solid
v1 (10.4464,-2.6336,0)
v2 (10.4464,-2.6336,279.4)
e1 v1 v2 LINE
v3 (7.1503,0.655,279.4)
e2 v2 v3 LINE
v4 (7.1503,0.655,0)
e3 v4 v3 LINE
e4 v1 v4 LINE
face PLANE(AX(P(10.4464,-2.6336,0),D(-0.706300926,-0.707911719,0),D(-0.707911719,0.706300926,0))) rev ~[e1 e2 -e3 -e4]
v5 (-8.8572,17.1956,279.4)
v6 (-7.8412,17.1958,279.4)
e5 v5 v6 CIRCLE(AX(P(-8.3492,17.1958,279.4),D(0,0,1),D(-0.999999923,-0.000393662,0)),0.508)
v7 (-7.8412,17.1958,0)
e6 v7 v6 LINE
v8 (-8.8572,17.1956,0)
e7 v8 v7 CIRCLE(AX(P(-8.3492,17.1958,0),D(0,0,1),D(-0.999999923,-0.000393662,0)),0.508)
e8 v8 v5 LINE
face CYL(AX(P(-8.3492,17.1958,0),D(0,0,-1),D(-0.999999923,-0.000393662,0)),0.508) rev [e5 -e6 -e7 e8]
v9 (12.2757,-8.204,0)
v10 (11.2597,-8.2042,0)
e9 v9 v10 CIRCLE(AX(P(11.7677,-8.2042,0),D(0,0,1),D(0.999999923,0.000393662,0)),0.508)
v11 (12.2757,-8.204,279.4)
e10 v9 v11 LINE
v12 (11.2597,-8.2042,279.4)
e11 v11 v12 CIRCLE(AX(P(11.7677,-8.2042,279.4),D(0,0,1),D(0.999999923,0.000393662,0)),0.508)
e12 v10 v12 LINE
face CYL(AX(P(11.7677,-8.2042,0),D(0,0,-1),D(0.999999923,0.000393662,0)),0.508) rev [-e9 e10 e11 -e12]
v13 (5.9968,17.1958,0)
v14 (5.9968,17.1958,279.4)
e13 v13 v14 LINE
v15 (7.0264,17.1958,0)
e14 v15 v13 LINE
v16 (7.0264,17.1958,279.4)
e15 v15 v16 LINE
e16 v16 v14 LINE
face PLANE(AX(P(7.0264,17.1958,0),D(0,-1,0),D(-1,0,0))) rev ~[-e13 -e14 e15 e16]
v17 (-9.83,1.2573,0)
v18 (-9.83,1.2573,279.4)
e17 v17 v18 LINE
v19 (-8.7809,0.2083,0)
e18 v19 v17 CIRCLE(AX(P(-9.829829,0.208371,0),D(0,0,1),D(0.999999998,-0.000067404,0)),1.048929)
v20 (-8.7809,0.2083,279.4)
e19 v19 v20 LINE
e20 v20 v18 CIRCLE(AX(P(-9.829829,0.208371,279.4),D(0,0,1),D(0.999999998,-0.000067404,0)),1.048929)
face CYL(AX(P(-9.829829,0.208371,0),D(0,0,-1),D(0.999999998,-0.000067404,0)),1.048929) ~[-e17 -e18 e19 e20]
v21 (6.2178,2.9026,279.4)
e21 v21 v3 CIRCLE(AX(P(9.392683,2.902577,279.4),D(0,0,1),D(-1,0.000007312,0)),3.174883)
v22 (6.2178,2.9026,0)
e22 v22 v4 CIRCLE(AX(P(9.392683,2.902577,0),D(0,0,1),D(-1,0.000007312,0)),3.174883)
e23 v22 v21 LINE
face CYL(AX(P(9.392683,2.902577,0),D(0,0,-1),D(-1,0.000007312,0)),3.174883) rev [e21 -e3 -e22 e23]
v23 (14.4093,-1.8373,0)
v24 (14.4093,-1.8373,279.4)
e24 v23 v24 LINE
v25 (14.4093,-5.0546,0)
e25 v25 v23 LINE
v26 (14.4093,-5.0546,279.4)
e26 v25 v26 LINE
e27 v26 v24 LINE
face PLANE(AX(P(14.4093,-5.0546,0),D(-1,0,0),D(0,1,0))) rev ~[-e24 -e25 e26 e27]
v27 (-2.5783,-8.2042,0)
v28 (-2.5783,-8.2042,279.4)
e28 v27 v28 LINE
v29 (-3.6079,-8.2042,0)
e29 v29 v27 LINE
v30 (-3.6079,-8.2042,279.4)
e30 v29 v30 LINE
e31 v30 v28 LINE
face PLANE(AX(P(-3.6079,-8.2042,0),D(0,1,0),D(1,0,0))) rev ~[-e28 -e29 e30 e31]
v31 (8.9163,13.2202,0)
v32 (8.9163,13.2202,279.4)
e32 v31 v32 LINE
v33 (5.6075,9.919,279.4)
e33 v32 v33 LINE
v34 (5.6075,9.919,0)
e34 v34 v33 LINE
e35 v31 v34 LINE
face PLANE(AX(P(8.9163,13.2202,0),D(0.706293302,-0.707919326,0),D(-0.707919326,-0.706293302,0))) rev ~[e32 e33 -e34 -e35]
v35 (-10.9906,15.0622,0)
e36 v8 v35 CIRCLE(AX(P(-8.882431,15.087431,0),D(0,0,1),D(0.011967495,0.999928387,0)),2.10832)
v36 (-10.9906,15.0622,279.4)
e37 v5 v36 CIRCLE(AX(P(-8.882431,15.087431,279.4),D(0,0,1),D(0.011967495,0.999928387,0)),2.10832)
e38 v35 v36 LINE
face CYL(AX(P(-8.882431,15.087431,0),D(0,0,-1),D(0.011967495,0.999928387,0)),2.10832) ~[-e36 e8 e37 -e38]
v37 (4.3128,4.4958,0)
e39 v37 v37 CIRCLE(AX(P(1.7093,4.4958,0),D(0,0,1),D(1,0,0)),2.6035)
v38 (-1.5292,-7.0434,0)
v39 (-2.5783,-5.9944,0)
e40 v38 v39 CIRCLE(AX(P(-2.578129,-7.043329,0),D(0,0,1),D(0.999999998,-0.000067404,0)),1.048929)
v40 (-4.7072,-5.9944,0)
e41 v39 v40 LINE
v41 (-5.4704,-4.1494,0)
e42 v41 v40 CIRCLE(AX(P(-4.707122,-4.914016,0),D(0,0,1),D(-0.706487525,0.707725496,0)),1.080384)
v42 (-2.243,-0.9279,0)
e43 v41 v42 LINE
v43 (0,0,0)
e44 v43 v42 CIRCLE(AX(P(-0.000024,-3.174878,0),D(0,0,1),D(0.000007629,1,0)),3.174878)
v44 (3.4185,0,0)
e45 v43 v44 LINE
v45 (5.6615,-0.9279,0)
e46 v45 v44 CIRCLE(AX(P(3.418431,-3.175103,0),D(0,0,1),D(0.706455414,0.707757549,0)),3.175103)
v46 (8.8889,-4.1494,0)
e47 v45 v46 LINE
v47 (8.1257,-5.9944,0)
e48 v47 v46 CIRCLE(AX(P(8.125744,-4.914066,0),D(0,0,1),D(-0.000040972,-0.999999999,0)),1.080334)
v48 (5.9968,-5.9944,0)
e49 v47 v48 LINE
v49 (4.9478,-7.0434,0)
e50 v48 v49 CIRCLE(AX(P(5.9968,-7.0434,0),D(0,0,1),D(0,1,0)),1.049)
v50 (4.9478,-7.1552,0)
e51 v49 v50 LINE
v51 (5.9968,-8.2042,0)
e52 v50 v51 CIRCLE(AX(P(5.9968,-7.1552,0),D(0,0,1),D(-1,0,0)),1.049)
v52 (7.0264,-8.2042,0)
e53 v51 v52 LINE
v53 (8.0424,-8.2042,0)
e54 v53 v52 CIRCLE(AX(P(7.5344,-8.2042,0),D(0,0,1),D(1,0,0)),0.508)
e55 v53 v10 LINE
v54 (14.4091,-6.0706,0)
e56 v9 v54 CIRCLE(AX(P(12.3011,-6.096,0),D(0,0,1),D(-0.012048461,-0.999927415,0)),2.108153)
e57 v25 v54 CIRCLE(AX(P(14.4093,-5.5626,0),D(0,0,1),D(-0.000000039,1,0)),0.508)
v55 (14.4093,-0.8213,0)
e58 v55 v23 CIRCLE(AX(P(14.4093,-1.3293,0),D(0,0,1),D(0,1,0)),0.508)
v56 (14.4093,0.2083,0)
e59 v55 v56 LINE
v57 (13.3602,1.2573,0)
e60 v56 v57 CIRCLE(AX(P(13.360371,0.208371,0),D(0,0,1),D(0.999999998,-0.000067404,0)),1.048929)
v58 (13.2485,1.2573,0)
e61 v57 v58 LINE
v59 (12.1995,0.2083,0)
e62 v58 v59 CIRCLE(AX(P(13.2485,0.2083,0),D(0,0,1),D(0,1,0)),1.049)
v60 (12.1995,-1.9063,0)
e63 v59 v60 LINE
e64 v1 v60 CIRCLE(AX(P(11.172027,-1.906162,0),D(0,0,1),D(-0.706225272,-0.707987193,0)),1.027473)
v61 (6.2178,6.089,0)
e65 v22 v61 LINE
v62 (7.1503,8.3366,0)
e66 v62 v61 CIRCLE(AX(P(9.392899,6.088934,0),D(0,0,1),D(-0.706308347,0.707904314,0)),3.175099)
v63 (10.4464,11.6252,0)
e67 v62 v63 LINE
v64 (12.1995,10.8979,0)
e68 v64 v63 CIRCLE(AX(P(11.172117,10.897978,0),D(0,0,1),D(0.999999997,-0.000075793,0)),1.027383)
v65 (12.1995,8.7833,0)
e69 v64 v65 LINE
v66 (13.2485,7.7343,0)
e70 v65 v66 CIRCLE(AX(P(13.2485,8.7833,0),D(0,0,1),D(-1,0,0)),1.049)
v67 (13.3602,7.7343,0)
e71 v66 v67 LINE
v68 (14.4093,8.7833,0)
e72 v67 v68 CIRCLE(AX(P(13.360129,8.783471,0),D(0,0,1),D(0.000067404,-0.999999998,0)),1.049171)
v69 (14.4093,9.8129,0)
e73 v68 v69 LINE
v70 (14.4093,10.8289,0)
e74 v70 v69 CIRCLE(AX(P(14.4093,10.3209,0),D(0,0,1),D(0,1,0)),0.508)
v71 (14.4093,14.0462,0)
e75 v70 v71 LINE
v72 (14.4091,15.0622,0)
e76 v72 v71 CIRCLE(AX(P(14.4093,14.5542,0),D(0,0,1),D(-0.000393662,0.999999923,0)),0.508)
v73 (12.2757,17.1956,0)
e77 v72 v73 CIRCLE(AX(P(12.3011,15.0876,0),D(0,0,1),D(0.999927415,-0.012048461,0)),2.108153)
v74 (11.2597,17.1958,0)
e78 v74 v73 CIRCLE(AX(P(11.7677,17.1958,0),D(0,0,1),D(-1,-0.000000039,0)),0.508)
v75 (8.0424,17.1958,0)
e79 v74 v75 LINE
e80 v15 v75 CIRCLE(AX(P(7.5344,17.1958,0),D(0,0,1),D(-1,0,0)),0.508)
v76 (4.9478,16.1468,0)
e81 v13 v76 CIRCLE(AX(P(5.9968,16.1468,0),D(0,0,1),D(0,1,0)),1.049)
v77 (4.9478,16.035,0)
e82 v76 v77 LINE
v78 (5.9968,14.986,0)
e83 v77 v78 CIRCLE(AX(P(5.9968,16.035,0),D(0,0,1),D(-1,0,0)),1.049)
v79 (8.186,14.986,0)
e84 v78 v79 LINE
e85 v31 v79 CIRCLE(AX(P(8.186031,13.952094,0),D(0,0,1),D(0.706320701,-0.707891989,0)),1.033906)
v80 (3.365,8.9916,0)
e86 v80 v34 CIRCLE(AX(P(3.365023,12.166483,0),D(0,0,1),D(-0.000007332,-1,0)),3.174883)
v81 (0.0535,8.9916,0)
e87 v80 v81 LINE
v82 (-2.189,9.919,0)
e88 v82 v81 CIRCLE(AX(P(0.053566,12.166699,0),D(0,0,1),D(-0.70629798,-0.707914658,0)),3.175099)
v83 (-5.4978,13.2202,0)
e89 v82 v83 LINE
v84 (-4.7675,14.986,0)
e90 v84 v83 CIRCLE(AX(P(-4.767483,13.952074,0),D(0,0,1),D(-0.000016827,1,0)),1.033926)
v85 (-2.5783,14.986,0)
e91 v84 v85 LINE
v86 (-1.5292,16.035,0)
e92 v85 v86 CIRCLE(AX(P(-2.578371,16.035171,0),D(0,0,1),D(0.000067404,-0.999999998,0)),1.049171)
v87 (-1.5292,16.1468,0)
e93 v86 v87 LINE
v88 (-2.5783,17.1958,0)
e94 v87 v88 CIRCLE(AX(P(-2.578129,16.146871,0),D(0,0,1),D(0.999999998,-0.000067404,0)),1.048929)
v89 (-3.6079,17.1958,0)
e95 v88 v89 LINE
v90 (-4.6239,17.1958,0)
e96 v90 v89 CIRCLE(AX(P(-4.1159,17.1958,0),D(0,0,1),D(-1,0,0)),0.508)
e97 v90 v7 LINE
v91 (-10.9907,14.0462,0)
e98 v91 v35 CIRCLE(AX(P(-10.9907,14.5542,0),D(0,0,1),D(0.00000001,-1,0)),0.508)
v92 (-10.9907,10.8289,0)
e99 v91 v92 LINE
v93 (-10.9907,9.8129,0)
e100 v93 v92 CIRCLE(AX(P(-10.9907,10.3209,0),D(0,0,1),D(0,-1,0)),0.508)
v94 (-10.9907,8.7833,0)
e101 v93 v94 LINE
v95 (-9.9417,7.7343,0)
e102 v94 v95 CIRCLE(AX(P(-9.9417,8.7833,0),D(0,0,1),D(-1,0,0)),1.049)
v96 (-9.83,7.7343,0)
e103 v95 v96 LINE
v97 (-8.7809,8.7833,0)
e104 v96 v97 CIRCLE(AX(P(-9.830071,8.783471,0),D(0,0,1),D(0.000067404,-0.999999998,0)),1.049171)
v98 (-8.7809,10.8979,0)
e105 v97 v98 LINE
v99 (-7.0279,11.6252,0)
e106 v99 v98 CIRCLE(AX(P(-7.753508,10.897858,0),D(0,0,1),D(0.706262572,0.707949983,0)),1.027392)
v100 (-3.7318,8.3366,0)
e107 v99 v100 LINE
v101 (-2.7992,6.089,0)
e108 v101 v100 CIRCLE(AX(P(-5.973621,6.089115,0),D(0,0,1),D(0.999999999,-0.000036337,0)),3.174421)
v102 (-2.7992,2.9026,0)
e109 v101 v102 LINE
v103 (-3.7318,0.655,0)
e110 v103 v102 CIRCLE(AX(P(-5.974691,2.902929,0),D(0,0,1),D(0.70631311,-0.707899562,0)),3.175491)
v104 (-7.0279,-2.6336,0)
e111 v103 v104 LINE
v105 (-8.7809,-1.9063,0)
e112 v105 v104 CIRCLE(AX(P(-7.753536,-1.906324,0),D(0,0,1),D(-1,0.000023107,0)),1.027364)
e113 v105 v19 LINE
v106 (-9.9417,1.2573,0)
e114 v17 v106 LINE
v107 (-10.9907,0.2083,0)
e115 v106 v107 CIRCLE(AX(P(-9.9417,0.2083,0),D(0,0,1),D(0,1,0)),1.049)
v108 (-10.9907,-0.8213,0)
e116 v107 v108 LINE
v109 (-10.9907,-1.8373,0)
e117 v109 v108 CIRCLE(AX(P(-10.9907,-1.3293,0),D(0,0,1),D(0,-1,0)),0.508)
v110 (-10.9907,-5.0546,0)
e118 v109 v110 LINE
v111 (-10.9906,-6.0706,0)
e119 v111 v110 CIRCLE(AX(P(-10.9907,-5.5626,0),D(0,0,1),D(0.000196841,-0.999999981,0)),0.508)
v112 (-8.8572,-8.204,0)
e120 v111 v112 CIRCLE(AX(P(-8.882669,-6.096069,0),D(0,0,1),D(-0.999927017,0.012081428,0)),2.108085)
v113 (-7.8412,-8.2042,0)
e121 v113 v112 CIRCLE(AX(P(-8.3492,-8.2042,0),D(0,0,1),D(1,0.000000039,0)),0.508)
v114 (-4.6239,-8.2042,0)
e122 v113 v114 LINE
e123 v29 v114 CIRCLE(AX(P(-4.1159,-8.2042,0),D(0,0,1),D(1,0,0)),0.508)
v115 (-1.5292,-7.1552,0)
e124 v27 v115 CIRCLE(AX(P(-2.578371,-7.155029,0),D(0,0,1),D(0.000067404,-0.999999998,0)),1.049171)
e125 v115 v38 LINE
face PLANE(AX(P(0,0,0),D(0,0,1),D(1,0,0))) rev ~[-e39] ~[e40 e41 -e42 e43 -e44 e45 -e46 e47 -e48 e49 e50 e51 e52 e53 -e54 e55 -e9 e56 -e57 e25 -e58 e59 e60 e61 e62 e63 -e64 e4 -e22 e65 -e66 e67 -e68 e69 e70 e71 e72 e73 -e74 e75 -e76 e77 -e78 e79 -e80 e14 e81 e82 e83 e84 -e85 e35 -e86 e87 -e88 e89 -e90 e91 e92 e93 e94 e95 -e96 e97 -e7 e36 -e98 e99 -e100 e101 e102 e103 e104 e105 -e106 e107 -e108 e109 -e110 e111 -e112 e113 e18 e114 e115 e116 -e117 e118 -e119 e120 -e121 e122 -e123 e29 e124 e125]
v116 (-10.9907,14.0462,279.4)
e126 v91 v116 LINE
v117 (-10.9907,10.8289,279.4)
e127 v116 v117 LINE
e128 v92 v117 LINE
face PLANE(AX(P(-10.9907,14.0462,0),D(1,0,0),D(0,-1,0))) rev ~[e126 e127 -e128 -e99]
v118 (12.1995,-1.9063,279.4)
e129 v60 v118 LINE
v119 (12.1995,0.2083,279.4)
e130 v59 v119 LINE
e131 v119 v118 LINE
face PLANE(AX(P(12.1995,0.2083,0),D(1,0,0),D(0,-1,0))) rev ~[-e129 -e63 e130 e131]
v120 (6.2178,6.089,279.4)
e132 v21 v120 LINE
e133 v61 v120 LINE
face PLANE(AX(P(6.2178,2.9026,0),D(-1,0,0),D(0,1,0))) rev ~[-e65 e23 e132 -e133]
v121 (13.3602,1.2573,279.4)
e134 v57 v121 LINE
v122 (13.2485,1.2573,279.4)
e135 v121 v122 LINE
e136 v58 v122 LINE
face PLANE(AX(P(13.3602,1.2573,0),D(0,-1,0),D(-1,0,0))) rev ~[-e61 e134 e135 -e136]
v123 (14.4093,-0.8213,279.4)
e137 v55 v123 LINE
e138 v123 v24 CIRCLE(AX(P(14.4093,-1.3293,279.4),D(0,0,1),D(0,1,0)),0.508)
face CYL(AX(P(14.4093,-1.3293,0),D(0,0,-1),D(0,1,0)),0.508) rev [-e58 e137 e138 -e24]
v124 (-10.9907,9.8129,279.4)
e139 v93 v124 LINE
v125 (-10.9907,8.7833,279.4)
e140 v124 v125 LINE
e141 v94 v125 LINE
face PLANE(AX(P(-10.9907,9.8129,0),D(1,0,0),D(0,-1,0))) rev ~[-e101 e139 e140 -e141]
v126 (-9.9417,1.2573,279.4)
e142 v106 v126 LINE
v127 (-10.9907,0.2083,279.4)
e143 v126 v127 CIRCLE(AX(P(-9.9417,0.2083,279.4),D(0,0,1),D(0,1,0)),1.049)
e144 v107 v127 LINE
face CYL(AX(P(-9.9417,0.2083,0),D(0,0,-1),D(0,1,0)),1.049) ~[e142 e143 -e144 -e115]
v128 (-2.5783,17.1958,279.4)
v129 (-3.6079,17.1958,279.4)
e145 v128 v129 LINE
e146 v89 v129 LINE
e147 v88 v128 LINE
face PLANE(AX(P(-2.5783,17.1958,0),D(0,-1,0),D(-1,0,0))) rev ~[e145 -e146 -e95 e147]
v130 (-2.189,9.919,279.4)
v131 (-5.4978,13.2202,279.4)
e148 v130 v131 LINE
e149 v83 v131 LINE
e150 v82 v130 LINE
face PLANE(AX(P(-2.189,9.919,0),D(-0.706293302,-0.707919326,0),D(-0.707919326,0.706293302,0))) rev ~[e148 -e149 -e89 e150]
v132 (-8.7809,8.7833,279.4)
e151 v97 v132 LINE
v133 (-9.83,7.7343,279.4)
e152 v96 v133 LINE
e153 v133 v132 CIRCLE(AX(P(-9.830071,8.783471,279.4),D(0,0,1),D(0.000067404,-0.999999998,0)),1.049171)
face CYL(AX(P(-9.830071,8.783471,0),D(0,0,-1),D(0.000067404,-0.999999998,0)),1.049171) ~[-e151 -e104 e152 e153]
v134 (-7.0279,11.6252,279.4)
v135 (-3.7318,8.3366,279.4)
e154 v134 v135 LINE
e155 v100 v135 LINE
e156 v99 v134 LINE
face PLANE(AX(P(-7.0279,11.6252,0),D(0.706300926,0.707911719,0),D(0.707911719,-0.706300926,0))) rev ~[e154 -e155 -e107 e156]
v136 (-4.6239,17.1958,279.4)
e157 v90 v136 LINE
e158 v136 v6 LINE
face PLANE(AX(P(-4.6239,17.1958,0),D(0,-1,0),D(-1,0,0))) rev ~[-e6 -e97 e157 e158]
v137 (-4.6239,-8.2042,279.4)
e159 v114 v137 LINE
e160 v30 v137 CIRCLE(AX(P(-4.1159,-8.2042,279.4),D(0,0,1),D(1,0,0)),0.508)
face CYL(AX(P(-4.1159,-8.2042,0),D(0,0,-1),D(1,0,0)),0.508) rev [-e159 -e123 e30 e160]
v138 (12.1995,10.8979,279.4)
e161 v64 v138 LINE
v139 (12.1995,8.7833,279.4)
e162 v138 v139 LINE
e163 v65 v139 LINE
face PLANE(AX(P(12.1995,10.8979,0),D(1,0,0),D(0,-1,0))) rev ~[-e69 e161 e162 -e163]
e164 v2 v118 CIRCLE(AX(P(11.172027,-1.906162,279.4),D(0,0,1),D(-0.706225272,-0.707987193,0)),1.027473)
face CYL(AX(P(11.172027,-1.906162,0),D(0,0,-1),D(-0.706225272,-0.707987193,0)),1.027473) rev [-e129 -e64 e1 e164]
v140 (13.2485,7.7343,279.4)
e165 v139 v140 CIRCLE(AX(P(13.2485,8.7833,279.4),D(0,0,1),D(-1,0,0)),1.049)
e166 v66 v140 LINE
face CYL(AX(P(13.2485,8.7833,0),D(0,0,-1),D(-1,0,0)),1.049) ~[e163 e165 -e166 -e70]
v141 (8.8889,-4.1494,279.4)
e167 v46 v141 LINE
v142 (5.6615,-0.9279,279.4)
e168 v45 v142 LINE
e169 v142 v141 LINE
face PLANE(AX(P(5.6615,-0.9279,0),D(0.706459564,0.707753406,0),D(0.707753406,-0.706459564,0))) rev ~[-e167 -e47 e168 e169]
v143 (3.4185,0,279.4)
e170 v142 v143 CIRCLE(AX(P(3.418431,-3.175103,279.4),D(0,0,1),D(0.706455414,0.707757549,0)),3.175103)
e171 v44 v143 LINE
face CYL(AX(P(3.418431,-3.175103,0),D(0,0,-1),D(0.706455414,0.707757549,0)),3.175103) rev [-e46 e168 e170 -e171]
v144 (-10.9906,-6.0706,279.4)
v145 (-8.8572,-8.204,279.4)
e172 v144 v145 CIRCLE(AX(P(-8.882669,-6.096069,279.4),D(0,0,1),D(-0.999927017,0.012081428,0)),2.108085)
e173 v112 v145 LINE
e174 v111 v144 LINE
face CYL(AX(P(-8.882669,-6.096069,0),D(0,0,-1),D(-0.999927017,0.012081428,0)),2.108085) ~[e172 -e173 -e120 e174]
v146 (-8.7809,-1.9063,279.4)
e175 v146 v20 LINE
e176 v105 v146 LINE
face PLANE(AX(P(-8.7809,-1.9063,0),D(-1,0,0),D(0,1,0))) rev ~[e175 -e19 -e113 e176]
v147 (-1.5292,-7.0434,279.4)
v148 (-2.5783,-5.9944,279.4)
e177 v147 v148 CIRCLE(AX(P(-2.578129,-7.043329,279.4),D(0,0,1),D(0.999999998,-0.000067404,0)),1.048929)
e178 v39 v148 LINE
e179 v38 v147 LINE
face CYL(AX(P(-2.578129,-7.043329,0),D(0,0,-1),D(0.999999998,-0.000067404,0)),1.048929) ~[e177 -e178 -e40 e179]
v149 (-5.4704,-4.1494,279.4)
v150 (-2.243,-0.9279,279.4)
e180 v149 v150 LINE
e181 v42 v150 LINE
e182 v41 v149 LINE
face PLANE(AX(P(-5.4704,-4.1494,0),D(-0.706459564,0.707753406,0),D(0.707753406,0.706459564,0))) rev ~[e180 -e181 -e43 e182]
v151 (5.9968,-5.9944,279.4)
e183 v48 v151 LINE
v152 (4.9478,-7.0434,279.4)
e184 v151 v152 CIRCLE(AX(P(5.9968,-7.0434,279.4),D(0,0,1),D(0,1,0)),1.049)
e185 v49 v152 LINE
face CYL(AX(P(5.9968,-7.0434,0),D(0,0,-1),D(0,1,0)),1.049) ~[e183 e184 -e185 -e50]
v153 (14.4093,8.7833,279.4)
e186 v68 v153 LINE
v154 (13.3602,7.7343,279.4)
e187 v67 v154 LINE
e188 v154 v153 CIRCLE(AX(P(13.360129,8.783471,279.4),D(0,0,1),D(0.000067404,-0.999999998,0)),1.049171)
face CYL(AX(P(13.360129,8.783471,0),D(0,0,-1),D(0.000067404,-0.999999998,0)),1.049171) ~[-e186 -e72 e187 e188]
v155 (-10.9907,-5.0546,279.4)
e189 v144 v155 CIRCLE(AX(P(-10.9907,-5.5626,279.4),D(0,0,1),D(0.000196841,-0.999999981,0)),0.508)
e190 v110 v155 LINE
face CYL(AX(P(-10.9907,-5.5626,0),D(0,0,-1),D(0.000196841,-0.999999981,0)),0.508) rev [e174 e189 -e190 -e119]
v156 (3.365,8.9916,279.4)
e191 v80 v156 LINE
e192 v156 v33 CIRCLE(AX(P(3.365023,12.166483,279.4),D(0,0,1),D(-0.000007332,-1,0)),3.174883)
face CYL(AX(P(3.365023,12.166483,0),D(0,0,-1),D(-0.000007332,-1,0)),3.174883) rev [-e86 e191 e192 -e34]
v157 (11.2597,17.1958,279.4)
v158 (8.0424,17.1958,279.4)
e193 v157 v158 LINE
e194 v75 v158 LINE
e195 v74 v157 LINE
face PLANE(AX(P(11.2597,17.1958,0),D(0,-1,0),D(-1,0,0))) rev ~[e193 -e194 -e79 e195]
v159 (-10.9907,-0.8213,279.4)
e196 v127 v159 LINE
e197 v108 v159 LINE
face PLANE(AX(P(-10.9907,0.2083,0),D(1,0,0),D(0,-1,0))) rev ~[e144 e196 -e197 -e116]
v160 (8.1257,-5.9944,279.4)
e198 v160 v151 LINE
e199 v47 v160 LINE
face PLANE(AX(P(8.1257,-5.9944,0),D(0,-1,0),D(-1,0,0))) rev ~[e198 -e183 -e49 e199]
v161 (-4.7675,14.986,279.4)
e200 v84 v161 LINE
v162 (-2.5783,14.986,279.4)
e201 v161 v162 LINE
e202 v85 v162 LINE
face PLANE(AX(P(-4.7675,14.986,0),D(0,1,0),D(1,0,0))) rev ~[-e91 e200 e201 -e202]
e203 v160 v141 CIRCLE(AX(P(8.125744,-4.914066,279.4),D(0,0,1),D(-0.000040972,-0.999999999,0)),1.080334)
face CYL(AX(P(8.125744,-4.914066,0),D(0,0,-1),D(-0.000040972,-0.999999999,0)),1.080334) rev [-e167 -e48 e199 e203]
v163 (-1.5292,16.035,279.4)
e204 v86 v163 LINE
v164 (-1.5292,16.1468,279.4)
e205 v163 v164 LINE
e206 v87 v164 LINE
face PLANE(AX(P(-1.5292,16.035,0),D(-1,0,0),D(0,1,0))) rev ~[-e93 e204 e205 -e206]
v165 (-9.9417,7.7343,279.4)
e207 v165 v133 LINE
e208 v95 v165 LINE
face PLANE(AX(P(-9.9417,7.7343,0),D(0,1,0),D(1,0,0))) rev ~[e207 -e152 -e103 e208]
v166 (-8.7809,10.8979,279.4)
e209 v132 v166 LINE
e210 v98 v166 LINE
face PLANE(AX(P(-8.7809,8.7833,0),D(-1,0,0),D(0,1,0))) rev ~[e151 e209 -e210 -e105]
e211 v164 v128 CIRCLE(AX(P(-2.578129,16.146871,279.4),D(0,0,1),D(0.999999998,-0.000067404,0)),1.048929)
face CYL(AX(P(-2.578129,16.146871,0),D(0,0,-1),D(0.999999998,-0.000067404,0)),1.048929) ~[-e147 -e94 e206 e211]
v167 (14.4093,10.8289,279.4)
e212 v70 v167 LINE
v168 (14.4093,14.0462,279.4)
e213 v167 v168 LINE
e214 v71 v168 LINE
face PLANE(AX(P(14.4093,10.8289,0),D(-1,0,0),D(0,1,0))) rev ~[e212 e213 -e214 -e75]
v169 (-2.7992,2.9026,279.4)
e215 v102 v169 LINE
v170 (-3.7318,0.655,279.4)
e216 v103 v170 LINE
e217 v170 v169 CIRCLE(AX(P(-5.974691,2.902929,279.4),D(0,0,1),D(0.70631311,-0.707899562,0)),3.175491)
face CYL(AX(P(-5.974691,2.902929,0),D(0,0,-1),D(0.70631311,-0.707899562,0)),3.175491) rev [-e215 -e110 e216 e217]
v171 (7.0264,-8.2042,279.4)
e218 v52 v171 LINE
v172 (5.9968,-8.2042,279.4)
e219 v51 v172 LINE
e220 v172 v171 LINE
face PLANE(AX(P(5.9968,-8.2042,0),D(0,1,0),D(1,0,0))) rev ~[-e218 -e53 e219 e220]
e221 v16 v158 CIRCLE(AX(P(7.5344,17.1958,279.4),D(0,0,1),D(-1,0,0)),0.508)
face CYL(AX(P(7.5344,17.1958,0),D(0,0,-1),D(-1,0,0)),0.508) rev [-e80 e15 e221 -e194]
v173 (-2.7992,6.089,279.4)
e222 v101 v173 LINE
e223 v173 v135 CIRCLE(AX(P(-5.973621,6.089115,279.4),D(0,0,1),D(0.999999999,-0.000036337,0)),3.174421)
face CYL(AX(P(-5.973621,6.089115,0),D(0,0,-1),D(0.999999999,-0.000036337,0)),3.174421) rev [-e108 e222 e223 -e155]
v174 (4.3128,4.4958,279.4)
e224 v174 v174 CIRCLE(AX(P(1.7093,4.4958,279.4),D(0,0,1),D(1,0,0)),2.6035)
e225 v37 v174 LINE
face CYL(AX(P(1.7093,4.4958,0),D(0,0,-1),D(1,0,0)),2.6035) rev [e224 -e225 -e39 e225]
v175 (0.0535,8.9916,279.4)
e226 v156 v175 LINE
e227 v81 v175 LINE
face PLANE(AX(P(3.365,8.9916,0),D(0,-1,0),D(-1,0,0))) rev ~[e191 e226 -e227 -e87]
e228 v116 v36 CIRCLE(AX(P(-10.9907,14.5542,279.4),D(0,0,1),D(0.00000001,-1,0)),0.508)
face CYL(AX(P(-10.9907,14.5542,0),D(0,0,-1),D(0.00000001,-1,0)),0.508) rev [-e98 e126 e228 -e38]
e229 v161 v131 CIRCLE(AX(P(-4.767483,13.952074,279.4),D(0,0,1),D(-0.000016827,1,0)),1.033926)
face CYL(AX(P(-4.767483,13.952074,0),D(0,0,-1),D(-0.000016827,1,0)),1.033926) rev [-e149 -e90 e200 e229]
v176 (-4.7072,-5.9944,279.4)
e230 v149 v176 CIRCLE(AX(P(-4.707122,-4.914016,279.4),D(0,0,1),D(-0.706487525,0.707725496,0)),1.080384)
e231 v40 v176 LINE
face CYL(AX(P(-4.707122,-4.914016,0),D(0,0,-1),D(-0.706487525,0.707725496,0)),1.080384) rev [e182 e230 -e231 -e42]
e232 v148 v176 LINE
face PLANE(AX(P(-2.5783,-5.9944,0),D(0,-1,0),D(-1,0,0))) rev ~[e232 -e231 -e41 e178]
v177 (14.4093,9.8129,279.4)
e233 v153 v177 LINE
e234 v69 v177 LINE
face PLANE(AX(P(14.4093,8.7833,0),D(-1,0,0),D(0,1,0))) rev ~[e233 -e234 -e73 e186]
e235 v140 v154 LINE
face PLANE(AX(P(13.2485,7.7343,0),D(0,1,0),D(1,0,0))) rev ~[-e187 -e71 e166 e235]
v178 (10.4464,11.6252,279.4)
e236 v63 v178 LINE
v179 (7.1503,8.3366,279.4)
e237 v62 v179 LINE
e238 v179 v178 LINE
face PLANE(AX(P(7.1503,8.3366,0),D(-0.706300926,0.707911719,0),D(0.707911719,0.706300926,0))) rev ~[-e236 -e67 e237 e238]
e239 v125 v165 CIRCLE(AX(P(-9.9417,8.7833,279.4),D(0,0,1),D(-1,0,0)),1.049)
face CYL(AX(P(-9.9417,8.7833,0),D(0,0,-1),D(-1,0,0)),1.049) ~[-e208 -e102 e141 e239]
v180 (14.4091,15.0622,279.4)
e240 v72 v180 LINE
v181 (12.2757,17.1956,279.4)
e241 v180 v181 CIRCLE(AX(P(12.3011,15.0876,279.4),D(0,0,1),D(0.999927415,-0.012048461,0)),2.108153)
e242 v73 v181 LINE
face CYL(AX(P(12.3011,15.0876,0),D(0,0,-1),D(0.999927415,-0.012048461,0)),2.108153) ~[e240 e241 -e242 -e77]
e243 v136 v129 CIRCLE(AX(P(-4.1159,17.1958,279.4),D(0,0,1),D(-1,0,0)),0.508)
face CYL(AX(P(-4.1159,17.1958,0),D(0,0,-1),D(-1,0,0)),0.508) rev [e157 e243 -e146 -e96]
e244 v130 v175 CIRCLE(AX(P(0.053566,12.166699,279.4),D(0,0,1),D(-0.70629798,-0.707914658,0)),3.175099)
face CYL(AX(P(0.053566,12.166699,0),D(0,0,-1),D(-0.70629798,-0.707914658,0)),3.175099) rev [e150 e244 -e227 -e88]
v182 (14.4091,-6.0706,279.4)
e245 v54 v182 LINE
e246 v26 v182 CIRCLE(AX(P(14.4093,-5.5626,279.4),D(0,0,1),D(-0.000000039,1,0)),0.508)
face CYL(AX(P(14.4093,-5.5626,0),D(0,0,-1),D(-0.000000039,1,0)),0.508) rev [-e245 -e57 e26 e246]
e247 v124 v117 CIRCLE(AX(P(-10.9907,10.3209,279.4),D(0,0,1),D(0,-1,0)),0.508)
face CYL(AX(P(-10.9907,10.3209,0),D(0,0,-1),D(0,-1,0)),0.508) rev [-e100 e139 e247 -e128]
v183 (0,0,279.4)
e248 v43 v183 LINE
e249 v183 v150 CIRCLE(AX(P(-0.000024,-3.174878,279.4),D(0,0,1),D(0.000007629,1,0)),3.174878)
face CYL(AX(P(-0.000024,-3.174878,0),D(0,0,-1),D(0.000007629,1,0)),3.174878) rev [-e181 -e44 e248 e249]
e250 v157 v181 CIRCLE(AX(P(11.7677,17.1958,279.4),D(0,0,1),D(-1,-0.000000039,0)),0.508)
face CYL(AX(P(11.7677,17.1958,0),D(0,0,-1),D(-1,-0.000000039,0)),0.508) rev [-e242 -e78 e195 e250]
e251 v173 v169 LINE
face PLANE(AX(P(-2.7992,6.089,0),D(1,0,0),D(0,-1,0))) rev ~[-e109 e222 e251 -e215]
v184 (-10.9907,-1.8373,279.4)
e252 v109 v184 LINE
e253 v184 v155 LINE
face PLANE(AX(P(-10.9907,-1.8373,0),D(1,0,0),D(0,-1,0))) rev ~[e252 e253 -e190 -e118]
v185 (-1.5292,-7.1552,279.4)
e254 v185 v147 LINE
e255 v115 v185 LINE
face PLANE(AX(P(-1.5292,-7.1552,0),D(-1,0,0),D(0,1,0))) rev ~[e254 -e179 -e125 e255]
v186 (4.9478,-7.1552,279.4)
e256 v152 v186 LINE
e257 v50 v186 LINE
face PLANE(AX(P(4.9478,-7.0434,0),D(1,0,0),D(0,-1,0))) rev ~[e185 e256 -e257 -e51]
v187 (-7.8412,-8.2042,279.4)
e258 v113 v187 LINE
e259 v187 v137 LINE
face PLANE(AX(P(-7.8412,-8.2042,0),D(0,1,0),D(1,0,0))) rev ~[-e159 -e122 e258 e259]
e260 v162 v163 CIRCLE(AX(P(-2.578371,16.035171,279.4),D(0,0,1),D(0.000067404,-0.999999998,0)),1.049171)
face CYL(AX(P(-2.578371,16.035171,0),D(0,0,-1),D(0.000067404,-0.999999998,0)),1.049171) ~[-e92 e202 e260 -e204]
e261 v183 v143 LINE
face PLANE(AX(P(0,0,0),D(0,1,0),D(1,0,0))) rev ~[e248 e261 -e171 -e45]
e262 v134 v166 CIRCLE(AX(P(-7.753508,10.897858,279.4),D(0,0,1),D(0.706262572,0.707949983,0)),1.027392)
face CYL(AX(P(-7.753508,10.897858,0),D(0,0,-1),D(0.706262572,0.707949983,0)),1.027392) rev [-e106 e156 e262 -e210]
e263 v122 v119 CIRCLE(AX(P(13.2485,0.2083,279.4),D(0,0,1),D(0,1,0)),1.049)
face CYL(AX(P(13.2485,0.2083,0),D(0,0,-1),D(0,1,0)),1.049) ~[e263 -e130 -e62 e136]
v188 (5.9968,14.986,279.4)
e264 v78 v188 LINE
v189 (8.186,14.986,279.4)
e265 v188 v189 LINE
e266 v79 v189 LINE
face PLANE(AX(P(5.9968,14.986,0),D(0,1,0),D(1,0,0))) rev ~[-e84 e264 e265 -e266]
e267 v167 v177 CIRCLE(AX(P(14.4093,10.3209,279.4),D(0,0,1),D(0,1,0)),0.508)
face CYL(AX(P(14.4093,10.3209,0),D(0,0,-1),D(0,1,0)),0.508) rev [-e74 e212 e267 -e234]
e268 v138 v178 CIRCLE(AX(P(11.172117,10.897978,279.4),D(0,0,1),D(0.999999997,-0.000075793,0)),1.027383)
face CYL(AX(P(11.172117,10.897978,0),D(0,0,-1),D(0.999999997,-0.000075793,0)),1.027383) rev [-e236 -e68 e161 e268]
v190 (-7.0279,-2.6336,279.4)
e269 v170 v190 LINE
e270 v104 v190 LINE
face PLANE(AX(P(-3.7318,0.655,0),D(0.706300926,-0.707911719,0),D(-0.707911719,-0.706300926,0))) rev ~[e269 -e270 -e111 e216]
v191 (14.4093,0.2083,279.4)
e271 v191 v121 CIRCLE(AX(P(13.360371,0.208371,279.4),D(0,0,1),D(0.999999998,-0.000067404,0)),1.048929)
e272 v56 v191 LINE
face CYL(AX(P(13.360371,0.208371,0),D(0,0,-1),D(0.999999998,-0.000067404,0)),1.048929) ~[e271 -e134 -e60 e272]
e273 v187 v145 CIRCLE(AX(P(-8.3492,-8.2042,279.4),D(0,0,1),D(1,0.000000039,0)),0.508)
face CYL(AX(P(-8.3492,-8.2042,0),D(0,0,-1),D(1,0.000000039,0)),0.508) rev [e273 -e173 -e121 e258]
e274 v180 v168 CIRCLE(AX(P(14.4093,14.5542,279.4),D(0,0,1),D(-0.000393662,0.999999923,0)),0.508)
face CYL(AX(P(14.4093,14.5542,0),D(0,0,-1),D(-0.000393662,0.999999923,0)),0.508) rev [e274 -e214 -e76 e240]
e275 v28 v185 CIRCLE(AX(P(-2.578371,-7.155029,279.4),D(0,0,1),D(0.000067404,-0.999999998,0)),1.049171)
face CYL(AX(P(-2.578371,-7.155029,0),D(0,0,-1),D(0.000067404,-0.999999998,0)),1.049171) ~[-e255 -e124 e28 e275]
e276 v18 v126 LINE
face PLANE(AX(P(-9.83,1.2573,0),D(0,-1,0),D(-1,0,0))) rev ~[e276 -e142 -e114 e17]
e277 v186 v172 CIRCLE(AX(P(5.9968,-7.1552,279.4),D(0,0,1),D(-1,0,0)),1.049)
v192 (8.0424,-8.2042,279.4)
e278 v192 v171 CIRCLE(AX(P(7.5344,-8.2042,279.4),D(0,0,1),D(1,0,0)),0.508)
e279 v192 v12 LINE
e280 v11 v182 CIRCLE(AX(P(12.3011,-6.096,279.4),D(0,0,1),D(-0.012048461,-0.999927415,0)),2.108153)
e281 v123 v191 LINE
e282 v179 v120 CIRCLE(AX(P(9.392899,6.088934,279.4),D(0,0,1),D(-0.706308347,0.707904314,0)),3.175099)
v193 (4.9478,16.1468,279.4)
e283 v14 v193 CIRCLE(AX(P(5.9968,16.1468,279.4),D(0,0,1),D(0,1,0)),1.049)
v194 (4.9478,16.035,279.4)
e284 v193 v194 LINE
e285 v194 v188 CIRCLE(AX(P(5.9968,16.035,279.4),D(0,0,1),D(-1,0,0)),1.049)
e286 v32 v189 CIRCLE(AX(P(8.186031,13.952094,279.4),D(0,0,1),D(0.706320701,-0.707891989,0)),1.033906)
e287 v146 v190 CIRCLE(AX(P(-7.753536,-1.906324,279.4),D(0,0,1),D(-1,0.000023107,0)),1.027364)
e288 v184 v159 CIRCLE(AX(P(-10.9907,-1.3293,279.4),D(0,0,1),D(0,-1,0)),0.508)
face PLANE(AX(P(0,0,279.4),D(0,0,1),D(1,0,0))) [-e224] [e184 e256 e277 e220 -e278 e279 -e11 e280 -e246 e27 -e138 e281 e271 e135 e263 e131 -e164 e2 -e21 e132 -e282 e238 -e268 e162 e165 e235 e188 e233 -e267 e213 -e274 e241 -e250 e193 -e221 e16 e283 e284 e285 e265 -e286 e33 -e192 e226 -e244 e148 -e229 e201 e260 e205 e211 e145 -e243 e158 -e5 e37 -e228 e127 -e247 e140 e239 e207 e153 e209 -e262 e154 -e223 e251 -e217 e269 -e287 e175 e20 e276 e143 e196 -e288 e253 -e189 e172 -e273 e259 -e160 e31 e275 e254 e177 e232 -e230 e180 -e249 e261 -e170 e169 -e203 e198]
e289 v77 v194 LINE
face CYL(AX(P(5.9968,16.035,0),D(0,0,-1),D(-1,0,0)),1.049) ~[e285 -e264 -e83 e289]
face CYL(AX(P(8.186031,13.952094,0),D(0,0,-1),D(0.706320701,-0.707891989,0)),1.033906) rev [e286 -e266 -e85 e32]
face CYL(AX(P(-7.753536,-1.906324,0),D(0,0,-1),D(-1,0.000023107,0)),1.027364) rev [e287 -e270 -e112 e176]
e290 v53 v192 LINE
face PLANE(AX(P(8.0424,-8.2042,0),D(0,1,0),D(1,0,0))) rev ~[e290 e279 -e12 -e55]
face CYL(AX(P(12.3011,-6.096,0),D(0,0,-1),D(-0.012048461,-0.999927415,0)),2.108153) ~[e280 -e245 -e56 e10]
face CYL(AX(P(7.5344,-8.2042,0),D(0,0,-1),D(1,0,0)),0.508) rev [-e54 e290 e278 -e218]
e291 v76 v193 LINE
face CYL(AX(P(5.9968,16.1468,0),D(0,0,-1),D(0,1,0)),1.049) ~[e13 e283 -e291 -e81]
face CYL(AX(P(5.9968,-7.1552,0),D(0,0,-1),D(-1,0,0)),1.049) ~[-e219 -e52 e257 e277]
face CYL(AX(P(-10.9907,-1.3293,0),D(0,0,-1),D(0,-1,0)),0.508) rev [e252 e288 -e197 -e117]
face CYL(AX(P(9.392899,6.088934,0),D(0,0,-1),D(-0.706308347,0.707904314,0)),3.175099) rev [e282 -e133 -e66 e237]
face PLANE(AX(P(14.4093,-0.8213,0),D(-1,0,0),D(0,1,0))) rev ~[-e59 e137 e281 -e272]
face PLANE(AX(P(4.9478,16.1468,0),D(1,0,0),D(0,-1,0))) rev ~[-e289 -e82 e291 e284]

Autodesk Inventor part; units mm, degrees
ref_plane "YZ Plane" through (0, 0, 0) normal (1, 0, 0) x (0, 1, 0)
ref_plane "XZ Plane" through (0, 0, 0) normal (0, 1, 0) x (-1, 0, 0)
ref_plane "XY Plane" through (0, 0, 0) normal (0, 0, 1) x (1, 0, 0)
sketch "Sketch1" plane through (0, 0, 0) normal (0, 0, 1) x (1, 0, 0)
  arc A0 (-5.4704, -4.1494) -> (-4.7072, -5.9944) centre (-4.7072, -4.914) ccw
  line L0 (-5.4704, -4.1494) -> (-2.243, -0.9279)
  arc A1 (0, 0) -> (-2.243, -0.9279) centre (0, -3.175) ccw
  line L1 (0, 0) -> (3.4185, 0)
  arc A2 (5.6615, -0.9279) -> (3.4185, 0) centre (3.4185, -3.175) ccw
  line L2 (5.6615, -0.9279) -> (8.8889, -4.1494)
  arc A3 (8.1257, -5.9944) -> (8.8889, -4.1494) centre (8.1257, -4.914) ccw
  line L3 (8.1257, -5.9944) -> (5.9968, -5.9944)
  arc A4 (5.9968, -5.9944) -> (4.9478, -7.0434) centre (5.9968, -7.0434) ccw
  line L4 (4.9478, -7.0434) -> (4.9478, -7.1552)
  arc A5 (4.9478, -7.1552) -> (5.9968, -8.2042) centre (5.9968, -7.1552) ccw
  line L5 (5.9968, -8.2042) -> (7.0264, -8.2042)
  arc A6 (8.0424, -8.2042) -> (7.0264, -8.2042) centre (7.5344, -8.2042) ccw
  line L6 (8.0424, -8.2042) -> (11.2597, -8.2042)
  arc A7 (12.2757, -8.204) -> (11.2597, -8.2042) centre (11.7677, -8.2042) ccw
  arc A8 (12.2757, -8.204) -> (14.4091, -6.0706) centre (12.3011, -6.096) ccw
  arc A9 (14.4093, -5.0546) -> (14.4091, -6.0706) centre (14.4093, -5.5626) ccw
  line L7 (14.4093, -5.0546) -> (14.4093, -1.8373)
  arc A10 (14.4093, -0.8213) -> (14.4093, -1.8373) centre (14.4093, -1.3293) ccw
  line L8 (14.4093, -0.8213) -> (14.4093, 0.2083)
  arc A11 (14.4093, 0.2083) -> (13.3602, 1.2573) centre (13.3602, 0.2083) ccw
  line L9 (13.3602, 1.2573) -> (13.2485, 1.2573)
  arc A12 (13.2485, 1.2573) -> (12.1995, 0.2083) centre (13.2485, 0.2083) ccw
  line L10 (12.1995, 0.2083) -> (12.1995, -1.9063)
  arc A13 (10.4464, -2.6336) -> (12.1995, -1.9063) centre (11.172, -1.9063) ccw
  line L11 (10.4464, -2.6336) -> (7.1503, 0.655)
  arc A14 (6.2178, 2.9026) -> (7.1503, 0.655) centre (9.3928, 2.9026) ccw
  line L12 (6.2178, 2.9026) -> (6.2178, 6.089)
  arc A15 (7.1503, 8.3366) -> (6.2178, 6.089) centre (9.3928, 6.089) ccw
  line L13 (7.1503, 8.3366) -> (10.4464, 11.6252)
  arc A16 (12.1995, 10.8979) -> (10.4464, 11.6252) centre (11.172, 10.8979) ccw
  line L14 (12.1995, 10.8979) -> (12.1995, 8.7833)
  arc A17 (12.1995, 8.7833) -> (13.2485, 7.7343) centre (13.2485, 8.7833) ccw
  line L15 (13.2485, 7.7343) -> (13.3602, 7.7343)
  arc A18 (13.3602, 7.7343) -> (14.4093, 8.7833) centre (13.3602, 8.7833) ccw
  line L16 (14.4093, 8.7833) -> (14.4093, 9.8129)
  arc A19 (14.4093, 10.8289) -> (14.4093, 9.8129) centre (14.4093, 10.3209) ccw
  line L17 (14.4093, 10.8289) -> (14.4093, 14.0462)
  arc A20 (14.4091, 15.0622) -> (14.4093, 14.0462) centre (14.4093, 14.5542) ccw
  arc A21 (14.4091, 15.0622) -> (12.2757, 17.1956) centre (12.3011, 15.0876) ccw
  arc A22 (11.2597, 17.1958) -> (12.2757, 17.1956) centre (11.7677, 17.1958) ccw
  line L18 (11.2597, 17.1958) -> (8.0424, 17.1958)
  arc A23 (7.0264, 17.1958) -> (8.0424, 17.1958) centre (7.5344, 17.1958) ccw
  line L19 (7.0264, 17.1958) -> (5.9968, 17.1958)
  arc A24 (5.9968, 17.1958) -> (4.9478, 16.1468) centre (5.9968, 16.1468) ccw
  line L20 (4.9478, 16.1468) -> (4.9478, 16.035)
  arc A25 (4.9478, 16.035) -> (5.9968, 14.986) centre (5.9968, 16.035) ccw
  line L21 (5.9968, 14.986) -> (8.186, 14.986)
  arc A26 (8.9163, 13.2202) -> (8.186, 14.986) centre (8.186, 13.9521) ccw
  line L22 (8.9163, 13.2202) -> (5.6075, 9.919)
  arc A27 (3.365, 8.9916) -> (5.6075, 9.919) centre (3.365, 12.1666) ccw
  line L23 (3.365, 8.9916) -> (0.0535, 8.9916)
  arc A28 (-2.189, 9.919) -> (0.0535, 8.9916) centre (0.0535, 12.1666) ccw
  line L24 (-2.189, 9.919) -> (-5.4978, 13.2202)
  arc A29 (-4.7675, 14.986) -> (-5.4978, 13.2202) centre (-4.7675, 13.9521) ccw
  line L25 (-4.7675, 14.986) -> (-2.5783, 14.986)
  arc A30 (-2.5783, 14.986) -> (-1.5292, 16.035) centre (-2.5783, 16.035) ccw
  line L26 (-1.5292, 16.035) -> (-1.5292, 16.1468)
  arc A31 (-1.5292, 16.1468) -> (-2.5783, 17.1958) centre (-2.5783, 16.1468) ccw
  line L27 (-2.5783, 17.1958) -> (-3.6079, 17.1958)
  arc A32 (-4.6239, 17.1958) -> (-3.6079, 17.1958) centre (-4.1159, 17.1958) ccw
  line L28 (-4.6239, 17.1958) -> (-7.8412, 17.1958)
  arc A33 (-8.8572, 17.1956) -> (-7.8412, 17.1958) centre (-8.3492, 17.1958) ccw
  arc A34 (-8.8572, 17.1956) -> (-10.9906, 15.0622) centre (-8.8825, 15.0876) ccw
  arc A35 (-10.9907, 14.0462) -> (-10.9906, 15.0622) centre (-10.9907, 14.5542) ccw
  line L29 (-10.9907, 14.0462) -> (-10.9907, 10.8289)
  arc A36 (-10.9907, 9.8129) -> (-10.9907, 10.8289) centre (-10.9907, 10.3209) ccw
  line L30 (-10.9907, 9.8129) -> (-10.9907, 8.7833)
  arc A37 (-10.9907, 8.7833) -> (-9.9417, 7.7343) centre (-9.9417, 8.7833) ccw
  line L31 (-9.9417, 7.7343) -> (-9.83, 7.7343)
  arc A38 (-9.83, 7.7343) -> (-8.7809, 8.7833) centre (-9.83, 8.7833) ccw
  line L32 (-8.7809, 8.7833) -> (-8.7809, 10.8979)
  arc A39 (-7.0279, 11.6252) -> (-8.7809, 10.8979) centre (-7.7535, 10.8979) ccw
  line L33 (-7.0279, 11.6252) -> (-3.7318, 8.3366)
  arc A40 (-2.7992, 6.089) -> (-3.7318, 8.3366) centre (-5.9742, 6.089) ccw
  line L34 (-2.7992, 6.089) -> (-2.7992, 2.9026)
  arc A41 (-3.7318, 0.655) -> (-2.7992, 2.9026) centre (-5.9742, 2.9026) ccw
  line L35 (-3.7318, 0.655) -> (-7.0279, -2.6336)
  arc A42 (-8.7809, -1.9063) -> (-7.0279, -2.6336) centre (-7.7535, -1.9063) ccw
  line L36 (-8.7809, -1.9063) -> (-8.7809, 0.2083)
  arc A43 (-8.7809, 0.2083) -> (-9.83, 1.2573) centre (-9.83, 0.2083) ccw
  line L37 (-9.83, 1.2573) -> (-9.9417, 1.2573)
  arc A44 (-9.9417, 1.2573) -> (-10.9907, 0.2083) centre (-9.9417, 0.2083) ccw
  line L38 (-10.9907, 0.2083) -> (-10.9907, -0.8213)
  arc A45 (-10.9907, -1.8373) -> (-10.9907, -0.8213) centre (-10.9907, -1.3293) ccw
  line L39 (-10.9907, -1.8373) -> (-10.9907, -5.0546)
  arc A46 (-10.9906, -6.0706) -> (-10.9907, -5.0546) centre (-10.9907, -5.5626) ccw
  arc A47 (-10.9906, -6.0706) -> (-8.8572, -8.204) centre (-8.8825, -6.096) ccw
  arc A48 (-7.8412, -8.2042) -> (-8.8572, -8.204) centre (-8.3492, -8.2042) ccw
  line L40 (-7.8412, -8.2042) -> (-4.6239, -8.2042)
  arc A49 (-3.6079, -8.2042) -> (-4.6239, -8.2042) centre (-4.1159, -8.2042) ccw
  line L41 (-3.6079, -8.2042) -> (-2.5783, -8.2042)
  arc A50 (-2.5783, -8.2042) -> (-1.5292, -7.1552) centre (-2.5783, -7.1552) ccw
  line L42 (-1.5292, -7.1552) -> (-1.5292, -7.0434)
  arc A51 (-1.5292, -7.0434) -> (-2.5783, -5.9944) centre (-2.5783, -7.0434) ccw
  line L43 (-2.5783, -5.9944) -> (-4.7072, -5.9944)
  circle A52 centre (1.7093, 4.4958) radius 2.6035
extrude "Extrusion1" add sketch "Sketch1" along normal blind 279.4
properties part number "11 in 1x1 T slot" material "Steel, Alloy"
